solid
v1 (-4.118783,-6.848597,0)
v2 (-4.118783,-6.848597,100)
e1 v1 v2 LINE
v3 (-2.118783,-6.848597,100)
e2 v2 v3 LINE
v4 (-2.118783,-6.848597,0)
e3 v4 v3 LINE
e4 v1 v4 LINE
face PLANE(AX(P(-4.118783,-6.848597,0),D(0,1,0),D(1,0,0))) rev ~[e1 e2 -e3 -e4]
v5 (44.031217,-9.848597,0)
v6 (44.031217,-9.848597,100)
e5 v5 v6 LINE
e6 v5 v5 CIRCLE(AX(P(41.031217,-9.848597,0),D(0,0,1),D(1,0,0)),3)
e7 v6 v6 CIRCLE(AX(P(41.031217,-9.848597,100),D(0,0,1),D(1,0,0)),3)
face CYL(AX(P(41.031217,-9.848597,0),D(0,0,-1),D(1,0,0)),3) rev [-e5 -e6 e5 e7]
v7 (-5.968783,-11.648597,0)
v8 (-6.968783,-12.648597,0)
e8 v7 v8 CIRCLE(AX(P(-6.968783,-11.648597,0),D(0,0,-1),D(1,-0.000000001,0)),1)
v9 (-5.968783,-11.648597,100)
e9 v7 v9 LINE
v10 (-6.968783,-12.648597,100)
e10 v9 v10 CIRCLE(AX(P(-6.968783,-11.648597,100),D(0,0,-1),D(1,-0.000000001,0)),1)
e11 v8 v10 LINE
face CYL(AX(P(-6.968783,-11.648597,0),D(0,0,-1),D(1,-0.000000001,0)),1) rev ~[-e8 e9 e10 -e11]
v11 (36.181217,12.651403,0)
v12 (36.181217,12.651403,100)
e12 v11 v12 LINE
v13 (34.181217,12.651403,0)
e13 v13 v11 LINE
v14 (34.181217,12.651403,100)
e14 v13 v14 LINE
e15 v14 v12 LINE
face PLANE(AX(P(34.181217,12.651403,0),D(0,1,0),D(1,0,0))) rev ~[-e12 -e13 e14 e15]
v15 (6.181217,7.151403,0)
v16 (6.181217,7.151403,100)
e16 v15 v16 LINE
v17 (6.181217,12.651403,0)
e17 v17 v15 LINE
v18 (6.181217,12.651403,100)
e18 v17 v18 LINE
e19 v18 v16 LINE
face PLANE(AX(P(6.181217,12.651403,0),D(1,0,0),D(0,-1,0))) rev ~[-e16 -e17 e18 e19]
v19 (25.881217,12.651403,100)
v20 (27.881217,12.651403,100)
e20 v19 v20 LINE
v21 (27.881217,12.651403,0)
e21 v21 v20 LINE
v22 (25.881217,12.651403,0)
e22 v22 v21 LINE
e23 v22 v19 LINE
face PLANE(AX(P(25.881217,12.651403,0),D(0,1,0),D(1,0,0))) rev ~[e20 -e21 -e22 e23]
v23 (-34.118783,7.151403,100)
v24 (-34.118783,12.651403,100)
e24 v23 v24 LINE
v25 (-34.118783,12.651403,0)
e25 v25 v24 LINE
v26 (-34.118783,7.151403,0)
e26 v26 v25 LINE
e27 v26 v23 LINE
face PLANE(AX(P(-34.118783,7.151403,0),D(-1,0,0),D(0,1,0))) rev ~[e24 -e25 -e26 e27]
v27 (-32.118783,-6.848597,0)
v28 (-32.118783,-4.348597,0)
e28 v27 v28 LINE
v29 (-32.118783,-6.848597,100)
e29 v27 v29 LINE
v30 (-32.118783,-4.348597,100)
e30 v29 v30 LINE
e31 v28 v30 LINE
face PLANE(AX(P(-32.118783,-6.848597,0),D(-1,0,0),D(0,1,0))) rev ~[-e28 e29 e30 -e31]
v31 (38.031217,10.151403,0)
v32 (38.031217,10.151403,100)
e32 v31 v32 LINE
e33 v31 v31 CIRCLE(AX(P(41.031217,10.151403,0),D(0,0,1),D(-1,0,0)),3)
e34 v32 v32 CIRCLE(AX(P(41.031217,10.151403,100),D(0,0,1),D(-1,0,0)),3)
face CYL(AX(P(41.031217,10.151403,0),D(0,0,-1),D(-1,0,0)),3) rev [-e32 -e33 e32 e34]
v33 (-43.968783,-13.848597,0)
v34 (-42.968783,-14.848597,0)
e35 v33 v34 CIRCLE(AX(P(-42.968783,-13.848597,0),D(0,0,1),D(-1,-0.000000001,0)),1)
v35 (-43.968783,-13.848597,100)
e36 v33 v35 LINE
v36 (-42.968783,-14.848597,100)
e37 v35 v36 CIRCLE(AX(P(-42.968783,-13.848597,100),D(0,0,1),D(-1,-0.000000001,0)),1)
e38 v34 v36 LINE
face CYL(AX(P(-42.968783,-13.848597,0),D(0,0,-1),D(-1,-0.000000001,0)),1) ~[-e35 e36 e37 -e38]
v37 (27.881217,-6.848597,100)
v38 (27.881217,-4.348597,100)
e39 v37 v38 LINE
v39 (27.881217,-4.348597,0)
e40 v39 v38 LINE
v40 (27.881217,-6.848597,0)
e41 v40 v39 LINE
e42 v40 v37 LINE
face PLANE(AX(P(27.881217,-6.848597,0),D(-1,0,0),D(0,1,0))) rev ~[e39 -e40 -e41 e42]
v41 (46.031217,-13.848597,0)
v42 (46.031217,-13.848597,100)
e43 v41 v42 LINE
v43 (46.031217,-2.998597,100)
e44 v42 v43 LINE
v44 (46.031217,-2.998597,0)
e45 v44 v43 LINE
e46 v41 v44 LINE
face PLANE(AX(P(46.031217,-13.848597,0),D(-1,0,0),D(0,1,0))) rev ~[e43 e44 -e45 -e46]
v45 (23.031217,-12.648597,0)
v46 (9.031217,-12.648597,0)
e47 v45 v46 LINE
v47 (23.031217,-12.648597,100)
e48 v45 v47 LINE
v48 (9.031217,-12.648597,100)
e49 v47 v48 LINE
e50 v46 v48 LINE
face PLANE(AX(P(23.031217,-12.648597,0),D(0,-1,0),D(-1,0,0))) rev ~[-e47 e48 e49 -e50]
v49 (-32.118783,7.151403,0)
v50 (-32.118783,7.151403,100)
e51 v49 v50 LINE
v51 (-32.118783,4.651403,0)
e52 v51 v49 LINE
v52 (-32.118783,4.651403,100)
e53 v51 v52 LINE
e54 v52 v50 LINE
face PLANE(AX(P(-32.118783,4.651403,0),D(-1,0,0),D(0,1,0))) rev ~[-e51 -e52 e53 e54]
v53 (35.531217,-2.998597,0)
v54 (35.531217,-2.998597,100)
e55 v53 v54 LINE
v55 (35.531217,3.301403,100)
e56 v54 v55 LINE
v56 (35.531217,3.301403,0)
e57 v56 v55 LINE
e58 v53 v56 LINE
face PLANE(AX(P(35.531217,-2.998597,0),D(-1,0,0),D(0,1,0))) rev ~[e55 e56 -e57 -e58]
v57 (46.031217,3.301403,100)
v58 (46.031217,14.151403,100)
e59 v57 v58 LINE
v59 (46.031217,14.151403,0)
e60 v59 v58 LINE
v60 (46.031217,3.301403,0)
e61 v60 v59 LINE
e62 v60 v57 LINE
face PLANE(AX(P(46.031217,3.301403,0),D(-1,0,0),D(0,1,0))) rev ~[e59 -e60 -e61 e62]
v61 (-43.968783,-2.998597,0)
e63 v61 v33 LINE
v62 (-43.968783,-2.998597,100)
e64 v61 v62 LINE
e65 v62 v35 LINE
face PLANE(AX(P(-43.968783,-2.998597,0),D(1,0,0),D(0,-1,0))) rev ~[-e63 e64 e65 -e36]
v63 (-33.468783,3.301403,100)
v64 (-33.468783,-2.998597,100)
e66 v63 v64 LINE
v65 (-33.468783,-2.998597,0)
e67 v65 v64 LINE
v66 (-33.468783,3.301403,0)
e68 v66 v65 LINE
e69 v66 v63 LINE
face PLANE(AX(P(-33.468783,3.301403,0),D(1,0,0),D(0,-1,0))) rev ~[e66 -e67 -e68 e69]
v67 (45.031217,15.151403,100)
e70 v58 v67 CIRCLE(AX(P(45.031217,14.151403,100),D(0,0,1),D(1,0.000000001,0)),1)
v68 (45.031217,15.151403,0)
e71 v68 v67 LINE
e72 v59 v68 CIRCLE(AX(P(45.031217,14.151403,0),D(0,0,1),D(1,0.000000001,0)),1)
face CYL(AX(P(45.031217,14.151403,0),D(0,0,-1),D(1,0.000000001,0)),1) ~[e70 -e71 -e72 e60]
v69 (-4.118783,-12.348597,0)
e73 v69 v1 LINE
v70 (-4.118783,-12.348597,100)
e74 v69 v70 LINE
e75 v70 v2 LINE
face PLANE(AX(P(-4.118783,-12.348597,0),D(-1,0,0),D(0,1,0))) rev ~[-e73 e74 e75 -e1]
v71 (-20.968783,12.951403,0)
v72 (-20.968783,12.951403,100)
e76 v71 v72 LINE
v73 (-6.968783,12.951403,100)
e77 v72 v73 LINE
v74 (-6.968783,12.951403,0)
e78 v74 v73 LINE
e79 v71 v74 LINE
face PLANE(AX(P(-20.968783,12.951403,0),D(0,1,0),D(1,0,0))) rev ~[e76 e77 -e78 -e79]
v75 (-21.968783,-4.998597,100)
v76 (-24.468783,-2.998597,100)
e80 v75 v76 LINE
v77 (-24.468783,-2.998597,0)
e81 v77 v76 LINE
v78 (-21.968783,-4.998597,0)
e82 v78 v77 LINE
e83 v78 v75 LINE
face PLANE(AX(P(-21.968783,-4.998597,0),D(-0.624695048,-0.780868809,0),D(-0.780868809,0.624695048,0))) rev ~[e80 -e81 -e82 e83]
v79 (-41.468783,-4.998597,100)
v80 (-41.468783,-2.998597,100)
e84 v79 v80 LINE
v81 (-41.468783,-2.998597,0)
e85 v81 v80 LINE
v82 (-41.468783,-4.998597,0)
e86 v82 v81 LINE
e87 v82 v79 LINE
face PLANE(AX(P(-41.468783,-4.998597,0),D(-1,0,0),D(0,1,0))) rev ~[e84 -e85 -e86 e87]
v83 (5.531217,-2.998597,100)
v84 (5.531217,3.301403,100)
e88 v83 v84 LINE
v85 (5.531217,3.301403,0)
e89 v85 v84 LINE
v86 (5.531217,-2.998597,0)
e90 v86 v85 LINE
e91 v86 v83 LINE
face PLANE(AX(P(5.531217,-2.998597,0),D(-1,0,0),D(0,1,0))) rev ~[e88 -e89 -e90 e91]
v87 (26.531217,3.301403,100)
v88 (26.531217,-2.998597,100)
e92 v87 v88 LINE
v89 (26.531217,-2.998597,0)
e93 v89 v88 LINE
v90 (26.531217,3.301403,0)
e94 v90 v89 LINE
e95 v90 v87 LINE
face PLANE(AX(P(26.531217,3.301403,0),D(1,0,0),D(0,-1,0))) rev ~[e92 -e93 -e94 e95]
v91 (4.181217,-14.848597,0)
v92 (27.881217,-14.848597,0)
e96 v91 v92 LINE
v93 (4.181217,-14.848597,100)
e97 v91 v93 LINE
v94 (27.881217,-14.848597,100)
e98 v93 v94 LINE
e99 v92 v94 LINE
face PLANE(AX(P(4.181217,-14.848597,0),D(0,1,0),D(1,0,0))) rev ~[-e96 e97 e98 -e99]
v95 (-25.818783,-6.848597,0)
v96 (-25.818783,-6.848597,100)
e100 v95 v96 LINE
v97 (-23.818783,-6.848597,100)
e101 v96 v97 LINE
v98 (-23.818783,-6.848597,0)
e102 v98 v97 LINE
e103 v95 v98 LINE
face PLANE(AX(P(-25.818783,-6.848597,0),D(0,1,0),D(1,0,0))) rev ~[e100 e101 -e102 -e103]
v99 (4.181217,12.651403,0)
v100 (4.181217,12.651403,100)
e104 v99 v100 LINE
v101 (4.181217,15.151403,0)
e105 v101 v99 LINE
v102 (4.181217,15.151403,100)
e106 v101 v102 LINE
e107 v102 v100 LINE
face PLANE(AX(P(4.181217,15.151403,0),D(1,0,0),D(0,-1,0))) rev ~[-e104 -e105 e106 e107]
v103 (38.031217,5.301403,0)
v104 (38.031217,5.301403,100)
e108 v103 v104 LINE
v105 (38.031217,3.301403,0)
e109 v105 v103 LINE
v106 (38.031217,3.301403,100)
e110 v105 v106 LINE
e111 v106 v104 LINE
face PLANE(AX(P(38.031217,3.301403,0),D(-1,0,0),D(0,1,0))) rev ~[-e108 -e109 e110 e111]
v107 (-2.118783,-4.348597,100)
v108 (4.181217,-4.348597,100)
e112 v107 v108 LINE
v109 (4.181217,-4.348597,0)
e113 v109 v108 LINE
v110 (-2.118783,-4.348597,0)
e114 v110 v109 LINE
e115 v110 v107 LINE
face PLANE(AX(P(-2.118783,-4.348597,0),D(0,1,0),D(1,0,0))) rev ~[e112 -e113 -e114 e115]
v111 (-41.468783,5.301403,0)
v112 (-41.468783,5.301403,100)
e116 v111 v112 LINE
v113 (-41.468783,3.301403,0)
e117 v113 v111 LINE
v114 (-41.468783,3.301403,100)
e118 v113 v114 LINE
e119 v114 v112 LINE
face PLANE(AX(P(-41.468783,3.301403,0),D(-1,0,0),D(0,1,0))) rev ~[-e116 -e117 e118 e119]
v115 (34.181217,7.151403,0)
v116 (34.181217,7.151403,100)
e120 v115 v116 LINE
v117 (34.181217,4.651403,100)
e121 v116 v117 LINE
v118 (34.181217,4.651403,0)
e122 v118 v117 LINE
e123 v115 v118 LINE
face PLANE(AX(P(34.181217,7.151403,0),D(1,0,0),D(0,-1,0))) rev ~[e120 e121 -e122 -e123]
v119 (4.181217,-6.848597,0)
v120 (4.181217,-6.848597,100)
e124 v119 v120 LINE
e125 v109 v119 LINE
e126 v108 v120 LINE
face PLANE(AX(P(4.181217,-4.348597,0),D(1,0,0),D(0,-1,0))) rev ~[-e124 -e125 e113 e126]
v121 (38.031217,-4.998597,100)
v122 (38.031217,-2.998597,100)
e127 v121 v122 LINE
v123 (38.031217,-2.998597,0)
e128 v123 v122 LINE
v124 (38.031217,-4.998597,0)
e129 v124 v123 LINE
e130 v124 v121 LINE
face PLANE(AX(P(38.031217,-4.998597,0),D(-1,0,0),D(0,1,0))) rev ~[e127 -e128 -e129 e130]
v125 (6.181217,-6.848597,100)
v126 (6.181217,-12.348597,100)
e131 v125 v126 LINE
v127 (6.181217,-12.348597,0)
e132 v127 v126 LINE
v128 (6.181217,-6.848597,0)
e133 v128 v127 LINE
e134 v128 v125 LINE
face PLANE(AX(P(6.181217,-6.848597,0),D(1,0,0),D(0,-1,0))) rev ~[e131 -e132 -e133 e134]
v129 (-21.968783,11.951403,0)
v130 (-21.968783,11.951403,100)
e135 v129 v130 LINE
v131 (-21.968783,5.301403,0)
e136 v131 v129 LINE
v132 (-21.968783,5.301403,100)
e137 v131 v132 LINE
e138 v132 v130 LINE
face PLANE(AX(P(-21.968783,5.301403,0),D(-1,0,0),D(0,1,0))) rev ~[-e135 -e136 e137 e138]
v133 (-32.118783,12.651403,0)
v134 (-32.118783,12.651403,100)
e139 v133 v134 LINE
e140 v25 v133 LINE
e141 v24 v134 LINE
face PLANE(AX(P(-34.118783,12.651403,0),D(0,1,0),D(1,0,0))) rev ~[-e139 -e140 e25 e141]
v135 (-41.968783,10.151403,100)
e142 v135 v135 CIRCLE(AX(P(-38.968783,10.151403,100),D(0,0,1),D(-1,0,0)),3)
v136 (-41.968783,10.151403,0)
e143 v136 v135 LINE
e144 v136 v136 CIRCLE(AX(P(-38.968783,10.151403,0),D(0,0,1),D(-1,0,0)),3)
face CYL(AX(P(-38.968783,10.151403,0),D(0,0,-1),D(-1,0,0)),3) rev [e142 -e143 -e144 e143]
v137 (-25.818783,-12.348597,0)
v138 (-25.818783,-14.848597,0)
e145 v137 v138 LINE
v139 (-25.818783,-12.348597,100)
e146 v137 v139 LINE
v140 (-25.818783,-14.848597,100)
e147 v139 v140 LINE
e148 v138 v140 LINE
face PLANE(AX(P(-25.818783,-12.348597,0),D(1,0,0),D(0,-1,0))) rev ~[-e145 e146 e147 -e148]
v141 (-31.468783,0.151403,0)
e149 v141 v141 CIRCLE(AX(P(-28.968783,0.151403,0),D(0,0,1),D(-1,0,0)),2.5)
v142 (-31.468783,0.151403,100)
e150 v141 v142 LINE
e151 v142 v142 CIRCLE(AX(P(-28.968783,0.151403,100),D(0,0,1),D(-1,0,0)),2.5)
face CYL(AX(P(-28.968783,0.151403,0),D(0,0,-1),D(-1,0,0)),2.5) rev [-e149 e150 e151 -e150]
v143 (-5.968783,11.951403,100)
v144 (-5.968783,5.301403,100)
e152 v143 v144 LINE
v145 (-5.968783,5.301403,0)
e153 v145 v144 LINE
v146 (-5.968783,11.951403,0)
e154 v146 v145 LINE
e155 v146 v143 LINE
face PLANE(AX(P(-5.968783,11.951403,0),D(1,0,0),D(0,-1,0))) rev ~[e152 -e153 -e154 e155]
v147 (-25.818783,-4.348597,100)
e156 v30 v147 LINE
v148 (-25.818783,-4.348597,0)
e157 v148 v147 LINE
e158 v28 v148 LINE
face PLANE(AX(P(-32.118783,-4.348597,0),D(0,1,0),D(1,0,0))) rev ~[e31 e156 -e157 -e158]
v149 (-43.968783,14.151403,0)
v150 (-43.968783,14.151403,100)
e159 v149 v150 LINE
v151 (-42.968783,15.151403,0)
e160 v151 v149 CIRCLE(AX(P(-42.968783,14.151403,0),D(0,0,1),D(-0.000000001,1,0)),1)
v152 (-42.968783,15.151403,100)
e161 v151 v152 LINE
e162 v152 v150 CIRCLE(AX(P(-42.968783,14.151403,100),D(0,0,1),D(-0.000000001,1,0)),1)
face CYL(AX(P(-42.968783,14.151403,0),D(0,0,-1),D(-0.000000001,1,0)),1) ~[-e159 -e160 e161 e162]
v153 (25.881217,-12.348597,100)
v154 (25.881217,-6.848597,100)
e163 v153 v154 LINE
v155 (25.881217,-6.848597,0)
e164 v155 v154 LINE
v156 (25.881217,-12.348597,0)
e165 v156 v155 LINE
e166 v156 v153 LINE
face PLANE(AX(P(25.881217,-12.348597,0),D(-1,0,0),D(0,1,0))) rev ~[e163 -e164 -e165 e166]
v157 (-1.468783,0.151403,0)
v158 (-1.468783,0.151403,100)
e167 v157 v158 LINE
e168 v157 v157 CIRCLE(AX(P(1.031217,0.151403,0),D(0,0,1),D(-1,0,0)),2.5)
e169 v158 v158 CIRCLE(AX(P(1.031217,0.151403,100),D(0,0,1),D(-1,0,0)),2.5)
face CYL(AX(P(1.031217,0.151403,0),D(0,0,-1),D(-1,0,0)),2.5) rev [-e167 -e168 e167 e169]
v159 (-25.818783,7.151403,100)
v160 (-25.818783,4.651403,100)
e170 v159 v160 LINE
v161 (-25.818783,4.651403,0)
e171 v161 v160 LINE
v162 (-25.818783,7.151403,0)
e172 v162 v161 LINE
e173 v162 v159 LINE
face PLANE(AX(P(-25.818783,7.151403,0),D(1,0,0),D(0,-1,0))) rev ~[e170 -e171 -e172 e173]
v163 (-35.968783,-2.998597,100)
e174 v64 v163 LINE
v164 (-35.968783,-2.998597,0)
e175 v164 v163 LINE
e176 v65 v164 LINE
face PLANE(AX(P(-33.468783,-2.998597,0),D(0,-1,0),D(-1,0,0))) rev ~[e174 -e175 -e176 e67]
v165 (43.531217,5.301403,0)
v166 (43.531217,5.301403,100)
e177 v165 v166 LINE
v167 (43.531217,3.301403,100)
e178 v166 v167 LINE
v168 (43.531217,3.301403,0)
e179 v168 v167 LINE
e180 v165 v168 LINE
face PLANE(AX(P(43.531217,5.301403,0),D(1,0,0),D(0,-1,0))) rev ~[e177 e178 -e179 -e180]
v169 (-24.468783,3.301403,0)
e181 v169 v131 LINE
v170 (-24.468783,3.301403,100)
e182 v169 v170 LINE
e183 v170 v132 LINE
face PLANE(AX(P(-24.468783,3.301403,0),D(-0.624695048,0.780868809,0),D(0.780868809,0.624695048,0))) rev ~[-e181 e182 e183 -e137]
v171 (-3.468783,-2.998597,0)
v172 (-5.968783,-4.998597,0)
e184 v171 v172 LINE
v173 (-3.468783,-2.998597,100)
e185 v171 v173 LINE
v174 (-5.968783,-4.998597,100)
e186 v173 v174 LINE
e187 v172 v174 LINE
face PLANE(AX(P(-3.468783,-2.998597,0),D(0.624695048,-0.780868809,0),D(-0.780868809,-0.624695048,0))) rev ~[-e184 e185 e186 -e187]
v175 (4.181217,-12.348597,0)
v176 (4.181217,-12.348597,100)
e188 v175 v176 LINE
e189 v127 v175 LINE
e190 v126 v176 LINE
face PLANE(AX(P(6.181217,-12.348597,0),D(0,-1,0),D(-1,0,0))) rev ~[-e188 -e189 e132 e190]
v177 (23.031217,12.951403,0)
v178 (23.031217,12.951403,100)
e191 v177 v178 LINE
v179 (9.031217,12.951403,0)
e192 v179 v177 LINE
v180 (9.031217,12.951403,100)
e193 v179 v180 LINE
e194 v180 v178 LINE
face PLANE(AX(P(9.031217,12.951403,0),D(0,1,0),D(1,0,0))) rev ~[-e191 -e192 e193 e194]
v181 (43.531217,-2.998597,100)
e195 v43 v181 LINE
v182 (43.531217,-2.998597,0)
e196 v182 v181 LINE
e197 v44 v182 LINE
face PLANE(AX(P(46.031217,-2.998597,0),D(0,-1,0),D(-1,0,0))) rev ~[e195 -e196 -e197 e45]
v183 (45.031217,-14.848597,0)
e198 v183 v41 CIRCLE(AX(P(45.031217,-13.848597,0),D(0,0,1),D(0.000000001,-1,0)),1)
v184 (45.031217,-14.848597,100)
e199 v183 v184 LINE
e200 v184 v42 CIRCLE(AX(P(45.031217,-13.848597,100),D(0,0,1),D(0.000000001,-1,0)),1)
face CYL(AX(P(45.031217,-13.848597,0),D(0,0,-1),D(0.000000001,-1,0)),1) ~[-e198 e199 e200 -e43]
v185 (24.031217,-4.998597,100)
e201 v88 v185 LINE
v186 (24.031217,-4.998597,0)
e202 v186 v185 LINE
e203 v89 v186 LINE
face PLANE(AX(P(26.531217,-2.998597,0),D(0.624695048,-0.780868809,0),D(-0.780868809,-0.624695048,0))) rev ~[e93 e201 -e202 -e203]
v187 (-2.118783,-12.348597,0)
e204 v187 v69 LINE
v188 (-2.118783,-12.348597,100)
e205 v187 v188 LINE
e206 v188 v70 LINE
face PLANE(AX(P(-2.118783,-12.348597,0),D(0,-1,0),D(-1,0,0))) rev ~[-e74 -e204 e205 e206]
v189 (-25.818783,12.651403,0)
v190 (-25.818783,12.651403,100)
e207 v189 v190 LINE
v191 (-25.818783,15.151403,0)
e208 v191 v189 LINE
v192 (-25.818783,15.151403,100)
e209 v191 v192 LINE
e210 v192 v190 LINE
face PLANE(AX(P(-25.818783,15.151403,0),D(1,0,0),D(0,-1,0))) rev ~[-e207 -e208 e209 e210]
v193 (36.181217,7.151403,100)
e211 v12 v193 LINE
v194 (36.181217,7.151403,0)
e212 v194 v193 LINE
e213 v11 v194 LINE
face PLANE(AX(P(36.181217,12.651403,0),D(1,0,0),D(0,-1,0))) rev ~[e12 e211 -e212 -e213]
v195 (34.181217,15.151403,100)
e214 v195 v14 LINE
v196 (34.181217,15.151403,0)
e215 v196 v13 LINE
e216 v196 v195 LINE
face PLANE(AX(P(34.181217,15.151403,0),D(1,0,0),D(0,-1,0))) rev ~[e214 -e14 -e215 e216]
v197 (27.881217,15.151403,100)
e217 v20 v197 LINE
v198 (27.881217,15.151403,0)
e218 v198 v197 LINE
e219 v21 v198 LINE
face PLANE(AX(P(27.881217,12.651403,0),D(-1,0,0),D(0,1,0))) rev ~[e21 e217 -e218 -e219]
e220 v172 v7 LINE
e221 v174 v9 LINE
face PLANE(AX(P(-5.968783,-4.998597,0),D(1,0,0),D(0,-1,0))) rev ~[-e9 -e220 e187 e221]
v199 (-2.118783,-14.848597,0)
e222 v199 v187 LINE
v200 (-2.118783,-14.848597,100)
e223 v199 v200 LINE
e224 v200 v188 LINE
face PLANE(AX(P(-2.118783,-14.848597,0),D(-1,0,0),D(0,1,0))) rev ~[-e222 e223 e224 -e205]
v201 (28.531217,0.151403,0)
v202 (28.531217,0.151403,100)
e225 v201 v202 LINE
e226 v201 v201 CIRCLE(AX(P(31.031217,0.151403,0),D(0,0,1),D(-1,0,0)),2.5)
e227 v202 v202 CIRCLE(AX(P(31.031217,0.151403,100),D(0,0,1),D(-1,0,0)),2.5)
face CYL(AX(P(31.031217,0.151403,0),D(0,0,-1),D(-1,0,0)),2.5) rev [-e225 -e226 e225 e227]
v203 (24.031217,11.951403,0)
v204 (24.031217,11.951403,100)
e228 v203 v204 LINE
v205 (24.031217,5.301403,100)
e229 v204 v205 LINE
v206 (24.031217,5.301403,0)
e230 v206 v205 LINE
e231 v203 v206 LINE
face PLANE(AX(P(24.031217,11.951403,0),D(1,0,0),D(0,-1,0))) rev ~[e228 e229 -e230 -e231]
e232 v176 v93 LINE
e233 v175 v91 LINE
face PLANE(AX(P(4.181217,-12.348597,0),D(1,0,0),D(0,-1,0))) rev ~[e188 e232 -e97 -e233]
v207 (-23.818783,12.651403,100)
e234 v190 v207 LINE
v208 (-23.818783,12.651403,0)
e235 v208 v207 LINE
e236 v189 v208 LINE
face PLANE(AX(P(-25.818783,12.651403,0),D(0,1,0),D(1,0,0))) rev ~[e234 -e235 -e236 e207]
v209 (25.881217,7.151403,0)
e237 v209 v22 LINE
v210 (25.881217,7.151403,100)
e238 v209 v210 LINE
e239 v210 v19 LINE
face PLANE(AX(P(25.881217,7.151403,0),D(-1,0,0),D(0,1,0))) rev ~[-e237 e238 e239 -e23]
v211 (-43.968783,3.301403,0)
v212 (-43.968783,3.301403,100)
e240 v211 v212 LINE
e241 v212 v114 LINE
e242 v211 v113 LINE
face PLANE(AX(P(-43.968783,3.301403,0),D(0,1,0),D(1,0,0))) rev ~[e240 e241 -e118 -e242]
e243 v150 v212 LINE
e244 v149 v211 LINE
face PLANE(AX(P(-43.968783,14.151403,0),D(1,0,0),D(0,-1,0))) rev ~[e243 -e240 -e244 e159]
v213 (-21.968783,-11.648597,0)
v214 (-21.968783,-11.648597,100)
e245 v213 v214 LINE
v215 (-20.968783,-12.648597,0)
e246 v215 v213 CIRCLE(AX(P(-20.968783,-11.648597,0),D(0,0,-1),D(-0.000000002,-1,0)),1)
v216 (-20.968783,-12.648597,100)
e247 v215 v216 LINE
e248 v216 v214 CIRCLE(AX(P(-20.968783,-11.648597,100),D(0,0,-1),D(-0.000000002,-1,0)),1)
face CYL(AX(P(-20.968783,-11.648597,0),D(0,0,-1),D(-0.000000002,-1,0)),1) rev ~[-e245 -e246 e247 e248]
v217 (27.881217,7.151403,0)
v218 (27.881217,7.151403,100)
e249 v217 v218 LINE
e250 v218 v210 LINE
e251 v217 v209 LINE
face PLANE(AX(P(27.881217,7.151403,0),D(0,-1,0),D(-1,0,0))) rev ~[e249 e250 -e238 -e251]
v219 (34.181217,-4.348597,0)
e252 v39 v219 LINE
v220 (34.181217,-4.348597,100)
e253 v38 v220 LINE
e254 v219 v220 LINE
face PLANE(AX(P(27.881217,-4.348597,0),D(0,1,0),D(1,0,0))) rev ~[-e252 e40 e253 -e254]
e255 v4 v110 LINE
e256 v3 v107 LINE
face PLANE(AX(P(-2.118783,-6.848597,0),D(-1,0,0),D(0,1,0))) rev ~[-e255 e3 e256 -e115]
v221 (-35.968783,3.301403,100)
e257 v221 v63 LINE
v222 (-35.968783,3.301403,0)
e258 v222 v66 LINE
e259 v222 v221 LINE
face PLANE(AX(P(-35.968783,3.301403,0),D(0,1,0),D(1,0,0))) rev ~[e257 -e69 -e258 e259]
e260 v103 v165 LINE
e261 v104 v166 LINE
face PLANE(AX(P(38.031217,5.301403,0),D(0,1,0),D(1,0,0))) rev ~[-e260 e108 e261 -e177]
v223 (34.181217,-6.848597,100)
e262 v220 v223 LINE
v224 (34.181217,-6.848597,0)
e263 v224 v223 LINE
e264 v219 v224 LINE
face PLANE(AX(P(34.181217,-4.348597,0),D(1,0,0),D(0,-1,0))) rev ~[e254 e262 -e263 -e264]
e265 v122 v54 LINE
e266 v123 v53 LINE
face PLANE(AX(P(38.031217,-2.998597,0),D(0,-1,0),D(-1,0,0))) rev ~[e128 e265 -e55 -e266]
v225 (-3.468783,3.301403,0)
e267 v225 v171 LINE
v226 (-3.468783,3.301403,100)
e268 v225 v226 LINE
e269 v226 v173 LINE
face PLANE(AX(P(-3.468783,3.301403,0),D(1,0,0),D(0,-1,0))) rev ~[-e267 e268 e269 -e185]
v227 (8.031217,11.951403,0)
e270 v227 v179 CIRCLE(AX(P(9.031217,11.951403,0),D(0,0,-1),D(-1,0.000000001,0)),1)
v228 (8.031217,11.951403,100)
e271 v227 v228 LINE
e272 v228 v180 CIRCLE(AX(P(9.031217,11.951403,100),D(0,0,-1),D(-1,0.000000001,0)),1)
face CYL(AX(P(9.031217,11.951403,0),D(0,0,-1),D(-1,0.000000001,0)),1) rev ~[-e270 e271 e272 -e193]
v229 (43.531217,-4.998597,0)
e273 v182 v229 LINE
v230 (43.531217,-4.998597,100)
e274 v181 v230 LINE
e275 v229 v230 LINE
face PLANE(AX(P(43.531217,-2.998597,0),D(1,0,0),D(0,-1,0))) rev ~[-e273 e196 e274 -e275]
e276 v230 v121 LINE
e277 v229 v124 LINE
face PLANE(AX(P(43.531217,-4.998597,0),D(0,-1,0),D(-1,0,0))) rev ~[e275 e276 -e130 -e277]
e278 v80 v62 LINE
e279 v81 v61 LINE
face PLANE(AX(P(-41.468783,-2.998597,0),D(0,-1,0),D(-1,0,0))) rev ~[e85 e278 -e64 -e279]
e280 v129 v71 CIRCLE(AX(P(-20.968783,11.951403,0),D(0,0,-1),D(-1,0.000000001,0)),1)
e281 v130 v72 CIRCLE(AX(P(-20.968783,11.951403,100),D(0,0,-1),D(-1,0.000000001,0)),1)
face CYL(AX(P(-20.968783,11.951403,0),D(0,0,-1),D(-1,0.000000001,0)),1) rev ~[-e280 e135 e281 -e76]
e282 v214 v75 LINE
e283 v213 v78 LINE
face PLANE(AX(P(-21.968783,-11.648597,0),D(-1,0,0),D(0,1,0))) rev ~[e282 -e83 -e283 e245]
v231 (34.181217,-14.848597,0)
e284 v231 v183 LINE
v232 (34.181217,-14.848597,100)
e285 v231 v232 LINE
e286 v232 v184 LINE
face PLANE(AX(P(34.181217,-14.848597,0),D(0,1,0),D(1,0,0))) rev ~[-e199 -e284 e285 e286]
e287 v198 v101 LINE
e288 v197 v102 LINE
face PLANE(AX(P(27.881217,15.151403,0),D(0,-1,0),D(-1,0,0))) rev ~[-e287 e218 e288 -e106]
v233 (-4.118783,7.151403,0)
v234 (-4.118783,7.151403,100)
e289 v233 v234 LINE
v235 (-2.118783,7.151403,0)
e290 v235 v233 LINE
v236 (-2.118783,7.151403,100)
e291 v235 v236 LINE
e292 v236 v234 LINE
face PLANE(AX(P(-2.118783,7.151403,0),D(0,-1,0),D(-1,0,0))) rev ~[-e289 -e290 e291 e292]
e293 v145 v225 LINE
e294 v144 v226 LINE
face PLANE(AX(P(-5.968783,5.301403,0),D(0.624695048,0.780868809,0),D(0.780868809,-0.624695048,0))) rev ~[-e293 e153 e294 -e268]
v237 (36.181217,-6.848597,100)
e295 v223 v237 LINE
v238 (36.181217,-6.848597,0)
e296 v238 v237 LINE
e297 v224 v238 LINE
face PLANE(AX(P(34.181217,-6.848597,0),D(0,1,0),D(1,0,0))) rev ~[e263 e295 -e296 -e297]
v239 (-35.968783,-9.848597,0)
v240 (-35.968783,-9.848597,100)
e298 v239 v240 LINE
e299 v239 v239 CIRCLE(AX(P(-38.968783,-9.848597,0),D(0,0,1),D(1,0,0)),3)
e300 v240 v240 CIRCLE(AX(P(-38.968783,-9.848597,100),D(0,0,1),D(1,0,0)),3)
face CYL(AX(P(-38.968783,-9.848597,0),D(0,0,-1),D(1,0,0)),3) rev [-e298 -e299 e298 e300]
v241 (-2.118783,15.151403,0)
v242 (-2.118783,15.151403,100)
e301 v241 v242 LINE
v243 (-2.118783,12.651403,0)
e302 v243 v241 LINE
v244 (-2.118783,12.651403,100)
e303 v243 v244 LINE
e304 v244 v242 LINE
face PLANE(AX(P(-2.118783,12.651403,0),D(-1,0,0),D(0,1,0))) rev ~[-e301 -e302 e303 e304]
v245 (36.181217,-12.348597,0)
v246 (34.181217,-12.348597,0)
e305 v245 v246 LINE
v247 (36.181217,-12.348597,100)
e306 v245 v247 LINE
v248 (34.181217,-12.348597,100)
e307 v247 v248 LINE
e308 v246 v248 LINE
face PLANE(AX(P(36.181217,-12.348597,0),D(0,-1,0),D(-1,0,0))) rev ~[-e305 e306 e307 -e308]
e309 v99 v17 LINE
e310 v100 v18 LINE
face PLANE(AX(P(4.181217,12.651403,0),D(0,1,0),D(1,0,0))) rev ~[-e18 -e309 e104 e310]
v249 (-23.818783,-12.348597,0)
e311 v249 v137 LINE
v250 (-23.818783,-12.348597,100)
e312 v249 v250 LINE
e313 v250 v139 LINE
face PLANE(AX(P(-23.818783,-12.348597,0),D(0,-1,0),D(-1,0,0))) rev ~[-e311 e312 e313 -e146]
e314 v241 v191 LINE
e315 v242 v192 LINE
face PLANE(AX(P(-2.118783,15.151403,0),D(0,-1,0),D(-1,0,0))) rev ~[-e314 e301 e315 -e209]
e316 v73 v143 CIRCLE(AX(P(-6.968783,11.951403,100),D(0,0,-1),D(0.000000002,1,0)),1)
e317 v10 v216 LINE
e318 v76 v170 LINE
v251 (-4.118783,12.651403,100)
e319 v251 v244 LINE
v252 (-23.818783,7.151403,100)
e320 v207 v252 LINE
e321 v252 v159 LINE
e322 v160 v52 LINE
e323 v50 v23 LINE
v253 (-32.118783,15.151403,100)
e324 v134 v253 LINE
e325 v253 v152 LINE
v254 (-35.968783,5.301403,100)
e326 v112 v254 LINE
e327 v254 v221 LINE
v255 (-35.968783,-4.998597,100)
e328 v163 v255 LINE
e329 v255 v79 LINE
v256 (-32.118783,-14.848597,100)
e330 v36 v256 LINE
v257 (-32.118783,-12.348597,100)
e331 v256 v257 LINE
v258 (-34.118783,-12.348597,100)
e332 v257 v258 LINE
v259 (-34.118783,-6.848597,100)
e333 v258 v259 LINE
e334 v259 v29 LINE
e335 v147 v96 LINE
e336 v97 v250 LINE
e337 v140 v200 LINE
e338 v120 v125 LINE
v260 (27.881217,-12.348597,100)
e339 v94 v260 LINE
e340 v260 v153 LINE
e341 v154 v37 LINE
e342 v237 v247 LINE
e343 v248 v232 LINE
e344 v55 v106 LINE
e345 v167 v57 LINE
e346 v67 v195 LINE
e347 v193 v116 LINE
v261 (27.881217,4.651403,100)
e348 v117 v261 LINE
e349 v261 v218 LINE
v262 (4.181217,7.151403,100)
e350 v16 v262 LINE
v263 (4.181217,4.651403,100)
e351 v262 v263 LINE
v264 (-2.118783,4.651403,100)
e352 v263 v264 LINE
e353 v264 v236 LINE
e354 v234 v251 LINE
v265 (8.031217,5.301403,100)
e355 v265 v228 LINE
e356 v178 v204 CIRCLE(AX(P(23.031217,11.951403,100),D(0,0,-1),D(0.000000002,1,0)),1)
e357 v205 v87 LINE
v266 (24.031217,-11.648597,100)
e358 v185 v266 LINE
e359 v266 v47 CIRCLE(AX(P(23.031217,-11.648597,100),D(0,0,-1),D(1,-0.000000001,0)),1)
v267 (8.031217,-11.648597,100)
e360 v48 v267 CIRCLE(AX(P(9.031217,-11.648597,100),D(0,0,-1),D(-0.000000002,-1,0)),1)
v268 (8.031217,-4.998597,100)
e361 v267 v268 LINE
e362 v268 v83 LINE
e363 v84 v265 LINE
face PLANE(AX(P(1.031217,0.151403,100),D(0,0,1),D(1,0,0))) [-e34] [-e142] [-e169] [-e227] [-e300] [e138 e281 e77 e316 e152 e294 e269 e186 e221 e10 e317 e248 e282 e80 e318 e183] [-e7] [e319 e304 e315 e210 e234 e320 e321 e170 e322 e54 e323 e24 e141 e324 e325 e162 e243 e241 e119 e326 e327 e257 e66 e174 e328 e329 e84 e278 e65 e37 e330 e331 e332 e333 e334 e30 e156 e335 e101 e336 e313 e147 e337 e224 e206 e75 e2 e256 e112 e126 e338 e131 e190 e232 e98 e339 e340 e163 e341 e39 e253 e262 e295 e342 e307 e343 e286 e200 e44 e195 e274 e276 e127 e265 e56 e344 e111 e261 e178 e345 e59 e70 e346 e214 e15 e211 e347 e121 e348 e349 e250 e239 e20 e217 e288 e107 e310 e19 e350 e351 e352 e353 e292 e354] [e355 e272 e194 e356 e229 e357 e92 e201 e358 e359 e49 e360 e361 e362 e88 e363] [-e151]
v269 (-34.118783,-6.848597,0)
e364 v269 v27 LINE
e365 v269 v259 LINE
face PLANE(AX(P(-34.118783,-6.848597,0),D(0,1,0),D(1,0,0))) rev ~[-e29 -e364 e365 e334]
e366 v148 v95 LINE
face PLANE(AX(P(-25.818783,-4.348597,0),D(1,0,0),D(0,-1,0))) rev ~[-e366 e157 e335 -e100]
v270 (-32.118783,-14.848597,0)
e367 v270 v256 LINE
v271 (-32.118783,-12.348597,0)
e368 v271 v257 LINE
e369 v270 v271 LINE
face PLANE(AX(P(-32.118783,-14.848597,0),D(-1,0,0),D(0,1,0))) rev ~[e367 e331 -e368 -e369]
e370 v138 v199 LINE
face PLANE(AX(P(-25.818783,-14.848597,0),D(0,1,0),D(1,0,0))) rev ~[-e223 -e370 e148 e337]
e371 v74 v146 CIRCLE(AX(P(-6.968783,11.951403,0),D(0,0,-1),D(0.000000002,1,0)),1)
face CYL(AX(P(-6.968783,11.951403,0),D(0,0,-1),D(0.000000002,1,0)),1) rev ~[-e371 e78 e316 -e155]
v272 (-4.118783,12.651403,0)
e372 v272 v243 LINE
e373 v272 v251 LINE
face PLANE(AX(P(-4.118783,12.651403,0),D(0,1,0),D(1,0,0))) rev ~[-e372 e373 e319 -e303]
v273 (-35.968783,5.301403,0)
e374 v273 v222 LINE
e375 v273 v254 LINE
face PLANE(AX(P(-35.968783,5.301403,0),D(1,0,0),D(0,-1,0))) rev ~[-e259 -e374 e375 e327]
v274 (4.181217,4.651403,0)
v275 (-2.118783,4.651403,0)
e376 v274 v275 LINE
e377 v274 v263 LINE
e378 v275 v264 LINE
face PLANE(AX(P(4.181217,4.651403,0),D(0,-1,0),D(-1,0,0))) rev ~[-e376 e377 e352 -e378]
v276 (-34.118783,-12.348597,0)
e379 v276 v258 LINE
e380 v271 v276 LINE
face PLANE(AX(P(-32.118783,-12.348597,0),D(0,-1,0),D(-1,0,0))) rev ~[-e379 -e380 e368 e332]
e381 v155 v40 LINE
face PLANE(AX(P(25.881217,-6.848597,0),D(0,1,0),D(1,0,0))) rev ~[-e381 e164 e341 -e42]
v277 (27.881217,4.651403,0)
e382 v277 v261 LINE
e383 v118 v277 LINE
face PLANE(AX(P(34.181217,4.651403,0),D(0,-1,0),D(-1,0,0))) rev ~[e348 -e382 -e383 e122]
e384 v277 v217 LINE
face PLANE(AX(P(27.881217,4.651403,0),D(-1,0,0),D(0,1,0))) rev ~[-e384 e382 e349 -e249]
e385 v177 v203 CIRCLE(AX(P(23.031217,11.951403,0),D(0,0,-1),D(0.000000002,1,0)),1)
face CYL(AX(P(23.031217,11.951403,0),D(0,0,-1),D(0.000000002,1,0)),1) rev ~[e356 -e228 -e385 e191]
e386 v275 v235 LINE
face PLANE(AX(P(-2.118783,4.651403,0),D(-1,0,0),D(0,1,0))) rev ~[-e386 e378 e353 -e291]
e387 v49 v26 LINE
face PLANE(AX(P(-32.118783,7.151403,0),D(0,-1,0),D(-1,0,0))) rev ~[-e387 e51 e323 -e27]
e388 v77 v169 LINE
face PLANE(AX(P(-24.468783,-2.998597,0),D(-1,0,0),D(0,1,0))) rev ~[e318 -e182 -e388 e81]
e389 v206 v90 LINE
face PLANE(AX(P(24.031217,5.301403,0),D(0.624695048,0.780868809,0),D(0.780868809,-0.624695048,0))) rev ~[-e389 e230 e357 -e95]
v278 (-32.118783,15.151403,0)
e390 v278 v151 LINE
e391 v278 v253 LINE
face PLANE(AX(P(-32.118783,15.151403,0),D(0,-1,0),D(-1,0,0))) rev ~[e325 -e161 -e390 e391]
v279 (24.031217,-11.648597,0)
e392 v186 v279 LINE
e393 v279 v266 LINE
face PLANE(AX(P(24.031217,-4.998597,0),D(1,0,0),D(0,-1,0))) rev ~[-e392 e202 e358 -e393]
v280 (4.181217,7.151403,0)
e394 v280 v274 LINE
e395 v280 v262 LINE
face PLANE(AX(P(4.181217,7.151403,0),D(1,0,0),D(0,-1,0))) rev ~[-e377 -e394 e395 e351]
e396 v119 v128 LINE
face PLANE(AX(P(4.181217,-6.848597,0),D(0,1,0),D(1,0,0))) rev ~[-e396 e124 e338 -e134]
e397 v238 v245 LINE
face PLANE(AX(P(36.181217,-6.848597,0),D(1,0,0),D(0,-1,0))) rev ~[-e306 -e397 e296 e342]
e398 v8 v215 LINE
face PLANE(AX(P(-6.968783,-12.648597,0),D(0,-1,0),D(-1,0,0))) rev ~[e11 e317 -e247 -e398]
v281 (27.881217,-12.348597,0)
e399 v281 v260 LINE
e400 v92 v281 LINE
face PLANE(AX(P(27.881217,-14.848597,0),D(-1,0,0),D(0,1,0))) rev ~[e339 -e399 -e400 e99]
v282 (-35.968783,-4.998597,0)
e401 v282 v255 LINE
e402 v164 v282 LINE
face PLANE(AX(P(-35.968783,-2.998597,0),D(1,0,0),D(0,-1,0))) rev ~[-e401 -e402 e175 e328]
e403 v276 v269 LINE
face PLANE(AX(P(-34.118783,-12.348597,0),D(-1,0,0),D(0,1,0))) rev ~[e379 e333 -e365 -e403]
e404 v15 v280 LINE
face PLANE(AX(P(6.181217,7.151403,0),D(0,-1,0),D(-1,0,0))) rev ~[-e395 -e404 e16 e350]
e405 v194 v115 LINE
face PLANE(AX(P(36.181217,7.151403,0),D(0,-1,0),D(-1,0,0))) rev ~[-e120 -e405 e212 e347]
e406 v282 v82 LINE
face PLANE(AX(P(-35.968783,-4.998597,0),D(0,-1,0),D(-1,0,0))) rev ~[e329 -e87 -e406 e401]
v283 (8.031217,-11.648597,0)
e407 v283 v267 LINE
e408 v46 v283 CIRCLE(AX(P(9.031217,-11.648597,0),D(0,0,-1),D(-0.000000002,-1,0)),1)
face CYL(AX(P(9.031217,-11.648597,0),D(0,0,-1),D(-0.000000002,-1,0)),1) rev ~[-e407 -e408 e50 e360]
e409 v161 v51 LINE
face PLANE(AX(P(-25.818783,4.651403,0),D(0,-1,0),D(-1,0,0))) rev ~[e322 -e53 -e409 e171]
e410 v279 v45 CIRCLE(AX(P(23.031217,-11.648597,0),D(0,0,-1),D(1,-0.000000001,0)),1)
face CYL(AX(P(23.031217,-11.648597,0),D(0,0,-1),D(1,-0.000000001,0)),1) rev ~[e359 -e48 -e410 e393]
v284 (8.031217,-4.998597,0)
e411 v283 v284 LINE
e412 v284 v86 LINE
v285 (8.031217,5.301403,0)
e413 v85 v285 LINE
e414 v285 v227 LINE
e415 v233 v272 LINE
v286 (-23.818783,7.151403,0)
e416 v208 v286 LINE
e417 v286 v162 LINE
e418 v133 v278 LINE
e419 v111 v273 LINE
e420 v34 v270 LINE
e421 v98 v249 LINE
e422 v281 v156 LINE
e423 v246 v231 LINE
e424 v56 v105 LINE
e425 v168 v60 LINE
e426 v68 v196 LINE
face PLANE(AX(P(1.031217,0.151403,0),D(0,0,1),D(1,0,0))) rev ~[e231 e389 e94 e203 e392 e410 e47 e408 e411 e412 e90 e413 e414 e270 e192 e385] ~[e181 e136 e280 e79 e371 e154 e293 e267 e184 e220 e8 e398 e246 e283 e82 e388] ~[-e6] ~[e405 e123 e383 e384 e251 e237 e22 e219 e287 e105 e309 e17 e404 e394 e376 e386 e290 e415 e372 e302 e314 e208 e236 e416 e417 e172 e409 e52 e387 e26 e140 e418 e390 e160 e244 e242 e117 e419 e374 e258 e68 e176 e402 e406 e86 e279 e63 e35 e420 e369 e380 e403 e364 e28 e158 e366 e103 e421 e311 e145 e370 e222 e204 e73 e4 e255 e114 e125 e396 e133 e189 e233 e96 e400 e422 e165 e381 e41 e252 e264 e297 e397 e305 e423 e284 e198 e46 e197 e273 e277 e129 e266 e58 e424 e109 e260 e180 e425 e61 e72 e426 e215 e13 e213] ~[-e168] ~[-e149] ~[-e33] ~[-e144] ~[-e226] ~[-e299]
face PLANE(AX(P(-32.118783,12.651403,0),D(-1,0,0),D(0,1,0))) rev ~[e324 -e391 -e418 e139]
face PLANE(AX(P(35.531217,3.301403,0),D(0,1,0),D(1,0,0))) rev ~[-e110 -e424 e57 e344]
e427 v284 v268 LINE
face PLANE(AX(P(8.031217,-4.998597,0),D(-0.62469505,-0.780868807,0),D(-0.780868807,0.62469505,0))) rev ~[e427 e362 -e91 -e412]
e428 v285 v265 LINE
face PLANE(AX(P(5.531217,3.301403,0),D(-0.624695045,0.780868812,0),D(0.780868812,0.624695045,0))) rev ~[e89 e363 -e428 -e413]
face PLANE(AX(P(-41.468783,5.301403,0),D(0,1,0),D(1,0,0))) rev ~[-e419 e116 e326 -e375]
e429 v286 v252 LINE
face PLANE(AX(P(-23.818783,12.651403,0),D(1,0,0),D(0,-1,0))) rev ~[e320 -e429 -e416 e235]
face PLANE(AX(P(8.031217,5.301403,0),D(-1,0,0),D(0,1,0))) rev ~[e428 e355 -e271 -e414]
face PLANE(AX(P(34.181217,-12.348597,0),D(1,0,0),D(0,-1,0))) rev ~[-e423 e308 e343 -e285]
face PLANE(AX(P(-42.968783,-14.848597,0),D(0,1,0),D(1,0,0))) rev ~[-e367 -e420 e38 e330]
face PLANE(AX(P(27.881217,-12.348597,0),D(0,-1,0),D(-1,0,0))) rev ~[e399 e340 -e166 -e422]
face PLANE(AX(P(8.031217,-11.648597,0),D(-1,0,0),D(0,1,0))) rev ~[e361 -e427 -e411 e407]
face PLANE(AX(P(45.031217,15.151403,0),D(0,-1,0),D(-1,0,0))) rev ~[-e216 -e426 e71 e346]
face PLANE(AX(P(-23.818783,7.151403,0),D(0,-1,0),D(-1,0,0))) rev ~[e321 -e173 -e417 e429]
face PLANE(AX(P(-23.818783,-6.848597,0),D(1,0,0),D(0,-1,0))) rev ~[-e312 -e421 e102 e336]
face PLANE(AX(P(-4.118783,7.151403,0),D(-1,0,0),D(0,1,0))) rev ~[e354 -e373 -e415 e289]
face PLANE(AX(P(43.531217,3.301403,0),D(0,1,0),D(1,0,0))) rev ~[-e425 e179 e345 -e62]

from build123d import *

# Parameters (mm, degrees)
EXTRUDE_1_DEPTH = 100


with BuildPart() as part:
    # 草图1 → 凸台-拉伸1 (new body)
    with BuildSketch(Plane.XY):
        with BuildLine():
            Line((-25.818782805, -14.848597483), (-14.968782805, -14.848597483))
            Line((-14.968782805, -14.848597483), (-2.118782805, -14.848597483))
            Line((-2.118782805, -14.848597483), (-2.118782805, -12.348597483))
            Line((-2.118782805, -12.348597483), (-4.118782805, -12.348597483))
            Line((-4.118782805, -12.348597483), (-4.118782805, -6.848597483))
            Line((-4.118782805, -6.848597483), (-2.118782805, -6.848597483))
            Line((-2.118782805, -6.848597483), (-2.118782805, -4.348597483))
            Line((-2.118782805, -4.348597483), (1.031217195, -4.348597483))
            Line((1.031217195, -4.348597483), (4.181217195, -4.348597483))
            Line((4.181217195, -4.348597483), (4.181217195, -6.848597483))
            Line((4.181217195, -6.848597483), (6.181217195, -6.848597483))
            Line((6.181217195, -6.848597483), (6.181217195, -12.348597483))
            Line((6.181217195, -12.348597483), (4.181217195, -12.348597483))
            Line((4.181217195, -12.348597483), (4.181217195, -14.848597483))
            Line((4.181217195, -14.848597483), (17.031217195, -14.848597483))
            Line((17.031217195, -14.848597483), (27.881217195, -14.848597483))
            Line((27.881217195, -14.848597483), (27.881217195, -12.348597483))
            Line((27.881217195, -12.348597483), (25.881217195, -12.348597483))
            Line((25.881217195, -12.348597483), (25.881217195, -6.848597483))
            Line((25.881217195, -6.848597483), (27.881217195, -6.848597483))
            Line((27.881217195, -6.848597483), (27.881217195, -4.348597483))
            Line((27.881217195, -4.348597483), (31.031217195, -4.348597483))
            Line((31.031217195, -4.348597483), (34.181217195, -4.348597483))
            Line((34.181217195, -4.348597483), (34.181217195, -6.848597483))
            Line((34.181217195, -6.848597483), (36.181217195, -6.848597483))
            Line((36.181217195, -6.848597483), (36.181217195, -12.348597483))
            Line((36.181217195, -12.348597483), (34.181217195, -12.348597483))
            Line((34.181217195, -12.348597483), (34.181217195, -14.848597483))
            Line((34.181217195, -14.848597483), (45.031217195, -14.848597483))
            ThreePointArc((45.031217195, -14.848597483), (45.738323976, -14.555704264), (46.031217195, -13.848597483))
            Line((46.031217195, -13.848597483), (46.031217195, -2.998597483))
            Line((46.031217195, -2.998597483), (43.531217195, -2.998597483))
            Line((43.531217195, -2.998597483), (43.531217195, -4.998597483))
            Line((43.531217195, -4.998597483), (38.031217195, -4.998597483))
            Line((38.031217195, -4.998597483), (38.031217195, -2.998597483))
            Line((38.031217195, -2.998597483), (35.531217195, -2.998597483))
            Line((35.531217195, -2.998597483), (35.531217195, 0.151402517))
            Line((35.531217195, 0.151402517), (35.531217195, 3.301402517))
            Line((35.531217195, 3.301402517), (38.031217195, 3.301402517))
            Line((38.031217195, 3.301402517), (38.031217195, 5.301402517))
            Line((38.031217195, 5.301402517), (43.531217195, 5.301402517))
            Line((43.531217195, 5.301402517), (43.531217195, 3.301402517))
            Line((43.531217195, 3.301402517), (46.031217195, 3.301402517))
            Line((46.031217195, 3.301402517), (46.031217195, 14.151402517))
            ThreePointArc((46.031217195, 14.151402517), (45.738323976, 14.858509298), (45.031217195, 15.151402517))
            Line((45.031217195, 15.151402517), (34.181217195, 15.151402517))
            Line((34.181217195, 15.151402517), (34.181217195, 12.651402517))
            Line((34.181217195, 12.651402517), (36.181217195, 12.651402517))
            Line((36.181217195, 12.651402517), (36.181217195, 7.151402517))
            Line((36.181217195, 7.151402517), (34.181217195, 7.151402517))
            Line((34.181217195, 7.151402517), (34.181217195, 4.651402517))
            Line((34.181217195, 4.651402517), (31.031217195, 4.651402517))
            Line((31.031217195, 4.651402517), (27.881217195, 4.651402517))
            Line((27.881217195, 4.651402517), (27.881217195, 7.151402517))
            Line((27.881217195, 7.151402517), (25.881217195, 7.151402517))
            Line((25.881217195, 7.151402517), (25.881217195, 12.651402517))
            Line((25.881217195, 12.651402517), (27.881217195, 12.651402517))
            Line((27.881217195, 12.651402517), (27.881217195, 15.151402517))
            Line((27.881217195, 15.151402517), (4.181217195, 15.151402517))
            Line((4.181217195, 15.151402517), (4.181217195, 12.651402517))
            Line((4.181217195, 12.651402517), (6.181217195, 12.651402517))
            Line((6.181217195, 12.651402517), (6.181217195, 7.151402517))
            Line((6.181217195, 7.151402517), (4.181217195, 7.151402517))
            Line((4.181217195, 7.151402517), (4.181217195, 4.651402517))
            Line((4.181217195, 4.651402517), (1.031217195, 4.651402517))
            Line((1.031217195, 4.651402517), (-2.118782805, 4.651402517))
            Line((-2.118782805, 4.651402517), (-2.118782805, 7.151402517))
            Line((-2.118782805, 7.151402517), (-4.118782805, 7.151402517))
            Line((-4.118782805, 7.151402517), (-4.118782805, 12.651402517))
            Line((-4.118782805, 12.651402517), (-2.118782805, 12.651402517))
            Line((-2.118782805, 12.651402517), (-2.118782805, 15.151402517))
            Line((-2.118782805, 15.151402517), (-25.818782805, 15.151402517))
            Line((-25.818782805, 15.151402517), (-25.818782805, 12.651402517))
            Line((-25.818782805, 12.651402517), (-23.818782805, 12.651402517))
            Line((-23.818782805, 12.651402517), (-23.818782805, 7.151402517))
            Line((-23.818782805, 7.151402517), (-25.818782805, 7.151402517))
            Line((-25.818782805, 7.151402517), (-25.818782805, 4.651402517))
            Line((-25.818782805, 4.651402517), (-28.968782805, 4.651402517))
            Line((-28.968782805, 4.651402517), (-32.118782805, 4.651402517))
            Line((-32.118782805, 4.651402517), (-32.118782805, 7.151402517))
            Line((-32.118782805, 7.151402517), (-34.118782805, 7.151402517))
            Line((-34.118782805, 7.151402517), (-34.118782805, 12.651402517))
            Line((-34.118782805, 12.651402517), (-32.118782805, 12.651402517))
            Line((-32.118782805, 12.651402517), (-32.118782805, 15.151402517))
            Line((-32.118782805, 15.151402517), (-42.968782805, 15.151402517))
            ThreePointArc((-42.968782805, 15.151402517), (-43.675889586, 14.858509298), (-43.968782805, 14.151402517))
            Line((-43.968782805, 14.151402517), (-43.968782805, 3.301402517))
            Line((-43.968782805, 3.301402517), (-41.468782805, 3.301402517))
            Line((-41.468782805, 3.301402517), (-41.468782805, 5.301402517))
            Line((-41.468782805, 5.301402517), (-35.968782805, 5.301402517))
            Line((-35.968782805, 5.301402517), (-35.968782805, 3.301402517))
            Line((-35.968782805, 3.301402517), (-33.468782805, 3.301402517))
            Line((-33.468782805, 3.301402517), (-33.468782805, 0.151402517))
            Line((-33.468782805, 0.151402517), (-33.468782805, -2.998597483))
            Line((-33.468782805, -2.998597483), (-35.968782805, -2.998597483))
            Line((-35.968782805, -2.998597483), (-35.968782805, -4.998597483))
            Line((-35.968782805, -4.998597483), (-41.468782805, -4.998597483))
            Line((-41.468782805, -4.998597483), (-41.468782805, -2.998597483))
            Line((-41.468782805, -2.998597483), (-43.968782805, -2.998597483))
            Line((-43.968782805, -2.998597483), (-43.968782805, -13.848597483))
            ThreePointArc((-43.968782805, -13.848597483), (-43.675889586, -14.555704264), (-42.968782805, -14.848597483))
            Line((-42.968782805, -14.848597483), (-32.118782805, -14.848597483))
            Line((-32.118782805, -14.848597483), (-32.118782805, -12.348597483))
            Line((-32.118782805, -12.348597483), (-34.118782805, -12.348597483))
            Line((-34.118782805, -12.348597483), (-34.118782805, -6.848597483))
            Line((-34.118782805, -6.848597483), (-32.118782805, -6.848597483))
            Line((-32.118782805, -6.848597483), (-32.118782805, -4.348597483))
            Line((-32.118782805, -4.348597483), (-28.968782805, -4.348597483))
            Line((-28.968782805, -4.348597483), (-25.818782805, -4.348597483))
            Line((-25.818782805, -4.348597483), (-25.818782805, -6.848597483))
            Line((-25.818782805, -6.848597483), (-23.818782805, -6.848597483))
            Line((-23.818782805, -6.848597483), (-23.818782805, -12.348597483))
            Line((-23.818782805, -12.348597483), (-25.818782805, -12.348597483))
            Line((-25.818782805, -12.348597483), (-25.818782805, -14.848597483))
        make_face()
        with BuildLine():
            Line((-24.468782805, 0.151402517), (-24.468782805, 3.301402517))
            Line((-24.468782805, 3.301402517), (-21.968782805, 5.301402517))
            Line((-21.968782805, 5.301402517), (-21.968782805, 11.951402523))
            ThreePointArc((-21.968782805, 11.951402523), (-21.675889587, 12.658509303), (-20.968782806, 12.951402523))
            Line((-20.968782806, 12.951402523), (-13.968782805, 12.951402523))
            Line((-13.968782805, 12.951402523), (-6.968782804, 12.951402523))
            ThreePointArc((-6.968782804, 12.951402523), (-6.261676023, 12.658509303), (-5.968782805, 11.951402523))
            Line((-5.968782805, 11.951402523), (-5.968782805, 5.301402517))
            Line((-5.968782805, 5.301402517), (-3.468782805, 3.301402517))
            Line((-3.468782805, 3.301402517), (-3.468782805, 0.151402517))
            Line((-3.468782805, 0.151402517), (-3.468782805, -2.998597483))
            Line((-3.468782805, -2.998597483), (-5.968782805, -4.998597483))
            Line((-5.968782805, -4.998597483), (-5.968782805, -11.648597489))
            ThreePointArc((-5.968782805, -11.648597489), (-6.261676023, -12.355704269), (-6.968782804, -12.648597489))
            Line((-6.968782804, -12.648597489), (-13.968782805, -12.648597489))
            Line((-13.968782805, -12.648597489), (-20.968782806, -12.648597489))
            ThreePointArc((-20.968782806, -12.648597489), (-21.675889587, -12.355704269), (-21.968782805, -11.648597489))
            Line((-21.968782805, -11.648597489), (-21.968782805, -4.998597483))
            Line((-21.968782805, -4.998597483), (-24.468782805, -2.998597483))
            Line((-24.468782805, -2.998597483), (-24.468782805, 0.151402517))
        make_face(mode=Mode.SUBTRACT)
        with BuildLine():
            Line((5.531217195, -2.998597468), (5.531217195, 0.151402532))
            Line((5.531217195, 0.151402532), (5.531217195, 3.301402532))
            Line((5.531217195, 3.301402532), (8.031217195, 5.301402517))
            Line((8.031217195, 5.301402517), (8.031217195, 11.951402523))
            ThreePointArc((8.031217195, 11.951402523), (8.324110413, 12.658509303), (9.031217194, 12.951402523))
            Line((9.031217194, 12.951402523), (16.031217195, 12.951402523))
            Line((16.031217195, 12.951402523), (23.031217196, 12.951402523))
            ThreePointArc((23.031217196, 12.951402523), (23.738323977, 12.658509303), (24.031217195, 11.951402523))
            Line((24.031217195, 11.951402523), (24.031217195, 5.301402517))
            Line((24.031217195, 5.301402517), (26.531217195, 3.301402517))
            Line((26.531217195, 3.301402517), (26.531217195, 0.151402517))
            Line((26.531217195, 0.151402517), (26.531217195, -2.998597483))
            Line((26.531217195, -2.998597483), (24.031217195, -4.998597483))
            Line((24.031217195, -4.998597483), (24.031217195, -11.648597489))
            ThreePointArc((24.031217195, -11.648597489), (23.738323977, -12.355704269), (23.031217196, -12.648597489))
            Line((23.031217196, -12.648597489), (16.031217195, -12.648597489))
            Line((16.031217195, -12.648597489), (9.031217194, -12.648597489))
            ThreePointArc((9.031217194, -12.648597489), (8.324110413, -12.355704269), (8.031217195, -11.648597489))
            Line((8.031217195, -11.648597489), (8.031217195, -4.998597483))
            Line((8.031217195, -4.998597483), (5.531217195, -2.998597468))
        make_face(mode=Mode.SUBTRACT)
        with BuildLine():
            ThreePointArc((-35.968782805, 10.151402517), (-38.968782805, 13.151402517), (-41.968782805, 10.151402517))
            ThreePointArc((-41.968782805, 10.151402517), (-38.968782805, 7.151402517), (-35.968782805, 10.151402517))
        make_face(mode=Mode.SUBTRACT)
        with BuildLine():
            ThreePointArc((-41.968782805, -9.848597483), (-38.968782805, -12.848597483), (-35.968782805, -9.848597483))
            ThreePointArc((-35.968782805, -9.848597483), (-38.968782805, -6.848597483), (-41.968782805, -9.848597483))
        make_face(mode=Mode.SUBTRACT)
        with BuildLine():
            ThreePointArc((-26.468782805, 0.151402517), (-28.968782805, 2.651402517), (-31.468782805, 0.151402517))
            ThreePointArc((-31.468782805, 0.151402517), (-28.968782805, -2.348597483), (-26.468782805, 0.151402517))
        make_face(mode=Mode.SUBTRACT)
        with BuildLine():
            ThreePointArc((3.531217195, 0.151402532), (1.031217195, 2.651402532), (-1.468782805, 0.151402532))
            ThreePointArc((-1.468782805, 0.151402532), (1.031217195, -2.348597468), (3.531217195, 0.151402532))
        make_face(mode=Mode.SUBTRACT)
        with BuildLine():
            ThreePointArc((44.031217195, 10.151402517), (41.031217195, 13.151402517), (38.031217195, 10.151402517))
            ThreePointArc((38.031217195, 10.151402517), (41.031217195, 7.151402517), (44.031217195, 10.151402517))
        make_face(mode=Mode.SUBTRACT)
        with BuildLine():
            ThreePointArc((38.031217195, -9.848597483), (41.031217195, -12.848597483), (44.031217195, -9.848597483))
            ThreePointArc((44.031217195, -9.848597483), (41.031217195, -6.848597483), (38.031217195, -9.848597483))
        make_face(mode=Mode.SUBTRACT)
        with BuildLine():
            ThreePointArc((33.531217195, 0.151402517), (31.031217195, 2.651402517), (28.531217195, 0.151402517))
            ThreePointArc((28.531217195, 0.151402517), (31.031217195, -2.348597483), (33.531217195, 0.151402517))
        make_face(mode=Mode.SUBTRACT)
    extrude(amount=EXTRUDE_1_DEPTH)


solid = part.part
